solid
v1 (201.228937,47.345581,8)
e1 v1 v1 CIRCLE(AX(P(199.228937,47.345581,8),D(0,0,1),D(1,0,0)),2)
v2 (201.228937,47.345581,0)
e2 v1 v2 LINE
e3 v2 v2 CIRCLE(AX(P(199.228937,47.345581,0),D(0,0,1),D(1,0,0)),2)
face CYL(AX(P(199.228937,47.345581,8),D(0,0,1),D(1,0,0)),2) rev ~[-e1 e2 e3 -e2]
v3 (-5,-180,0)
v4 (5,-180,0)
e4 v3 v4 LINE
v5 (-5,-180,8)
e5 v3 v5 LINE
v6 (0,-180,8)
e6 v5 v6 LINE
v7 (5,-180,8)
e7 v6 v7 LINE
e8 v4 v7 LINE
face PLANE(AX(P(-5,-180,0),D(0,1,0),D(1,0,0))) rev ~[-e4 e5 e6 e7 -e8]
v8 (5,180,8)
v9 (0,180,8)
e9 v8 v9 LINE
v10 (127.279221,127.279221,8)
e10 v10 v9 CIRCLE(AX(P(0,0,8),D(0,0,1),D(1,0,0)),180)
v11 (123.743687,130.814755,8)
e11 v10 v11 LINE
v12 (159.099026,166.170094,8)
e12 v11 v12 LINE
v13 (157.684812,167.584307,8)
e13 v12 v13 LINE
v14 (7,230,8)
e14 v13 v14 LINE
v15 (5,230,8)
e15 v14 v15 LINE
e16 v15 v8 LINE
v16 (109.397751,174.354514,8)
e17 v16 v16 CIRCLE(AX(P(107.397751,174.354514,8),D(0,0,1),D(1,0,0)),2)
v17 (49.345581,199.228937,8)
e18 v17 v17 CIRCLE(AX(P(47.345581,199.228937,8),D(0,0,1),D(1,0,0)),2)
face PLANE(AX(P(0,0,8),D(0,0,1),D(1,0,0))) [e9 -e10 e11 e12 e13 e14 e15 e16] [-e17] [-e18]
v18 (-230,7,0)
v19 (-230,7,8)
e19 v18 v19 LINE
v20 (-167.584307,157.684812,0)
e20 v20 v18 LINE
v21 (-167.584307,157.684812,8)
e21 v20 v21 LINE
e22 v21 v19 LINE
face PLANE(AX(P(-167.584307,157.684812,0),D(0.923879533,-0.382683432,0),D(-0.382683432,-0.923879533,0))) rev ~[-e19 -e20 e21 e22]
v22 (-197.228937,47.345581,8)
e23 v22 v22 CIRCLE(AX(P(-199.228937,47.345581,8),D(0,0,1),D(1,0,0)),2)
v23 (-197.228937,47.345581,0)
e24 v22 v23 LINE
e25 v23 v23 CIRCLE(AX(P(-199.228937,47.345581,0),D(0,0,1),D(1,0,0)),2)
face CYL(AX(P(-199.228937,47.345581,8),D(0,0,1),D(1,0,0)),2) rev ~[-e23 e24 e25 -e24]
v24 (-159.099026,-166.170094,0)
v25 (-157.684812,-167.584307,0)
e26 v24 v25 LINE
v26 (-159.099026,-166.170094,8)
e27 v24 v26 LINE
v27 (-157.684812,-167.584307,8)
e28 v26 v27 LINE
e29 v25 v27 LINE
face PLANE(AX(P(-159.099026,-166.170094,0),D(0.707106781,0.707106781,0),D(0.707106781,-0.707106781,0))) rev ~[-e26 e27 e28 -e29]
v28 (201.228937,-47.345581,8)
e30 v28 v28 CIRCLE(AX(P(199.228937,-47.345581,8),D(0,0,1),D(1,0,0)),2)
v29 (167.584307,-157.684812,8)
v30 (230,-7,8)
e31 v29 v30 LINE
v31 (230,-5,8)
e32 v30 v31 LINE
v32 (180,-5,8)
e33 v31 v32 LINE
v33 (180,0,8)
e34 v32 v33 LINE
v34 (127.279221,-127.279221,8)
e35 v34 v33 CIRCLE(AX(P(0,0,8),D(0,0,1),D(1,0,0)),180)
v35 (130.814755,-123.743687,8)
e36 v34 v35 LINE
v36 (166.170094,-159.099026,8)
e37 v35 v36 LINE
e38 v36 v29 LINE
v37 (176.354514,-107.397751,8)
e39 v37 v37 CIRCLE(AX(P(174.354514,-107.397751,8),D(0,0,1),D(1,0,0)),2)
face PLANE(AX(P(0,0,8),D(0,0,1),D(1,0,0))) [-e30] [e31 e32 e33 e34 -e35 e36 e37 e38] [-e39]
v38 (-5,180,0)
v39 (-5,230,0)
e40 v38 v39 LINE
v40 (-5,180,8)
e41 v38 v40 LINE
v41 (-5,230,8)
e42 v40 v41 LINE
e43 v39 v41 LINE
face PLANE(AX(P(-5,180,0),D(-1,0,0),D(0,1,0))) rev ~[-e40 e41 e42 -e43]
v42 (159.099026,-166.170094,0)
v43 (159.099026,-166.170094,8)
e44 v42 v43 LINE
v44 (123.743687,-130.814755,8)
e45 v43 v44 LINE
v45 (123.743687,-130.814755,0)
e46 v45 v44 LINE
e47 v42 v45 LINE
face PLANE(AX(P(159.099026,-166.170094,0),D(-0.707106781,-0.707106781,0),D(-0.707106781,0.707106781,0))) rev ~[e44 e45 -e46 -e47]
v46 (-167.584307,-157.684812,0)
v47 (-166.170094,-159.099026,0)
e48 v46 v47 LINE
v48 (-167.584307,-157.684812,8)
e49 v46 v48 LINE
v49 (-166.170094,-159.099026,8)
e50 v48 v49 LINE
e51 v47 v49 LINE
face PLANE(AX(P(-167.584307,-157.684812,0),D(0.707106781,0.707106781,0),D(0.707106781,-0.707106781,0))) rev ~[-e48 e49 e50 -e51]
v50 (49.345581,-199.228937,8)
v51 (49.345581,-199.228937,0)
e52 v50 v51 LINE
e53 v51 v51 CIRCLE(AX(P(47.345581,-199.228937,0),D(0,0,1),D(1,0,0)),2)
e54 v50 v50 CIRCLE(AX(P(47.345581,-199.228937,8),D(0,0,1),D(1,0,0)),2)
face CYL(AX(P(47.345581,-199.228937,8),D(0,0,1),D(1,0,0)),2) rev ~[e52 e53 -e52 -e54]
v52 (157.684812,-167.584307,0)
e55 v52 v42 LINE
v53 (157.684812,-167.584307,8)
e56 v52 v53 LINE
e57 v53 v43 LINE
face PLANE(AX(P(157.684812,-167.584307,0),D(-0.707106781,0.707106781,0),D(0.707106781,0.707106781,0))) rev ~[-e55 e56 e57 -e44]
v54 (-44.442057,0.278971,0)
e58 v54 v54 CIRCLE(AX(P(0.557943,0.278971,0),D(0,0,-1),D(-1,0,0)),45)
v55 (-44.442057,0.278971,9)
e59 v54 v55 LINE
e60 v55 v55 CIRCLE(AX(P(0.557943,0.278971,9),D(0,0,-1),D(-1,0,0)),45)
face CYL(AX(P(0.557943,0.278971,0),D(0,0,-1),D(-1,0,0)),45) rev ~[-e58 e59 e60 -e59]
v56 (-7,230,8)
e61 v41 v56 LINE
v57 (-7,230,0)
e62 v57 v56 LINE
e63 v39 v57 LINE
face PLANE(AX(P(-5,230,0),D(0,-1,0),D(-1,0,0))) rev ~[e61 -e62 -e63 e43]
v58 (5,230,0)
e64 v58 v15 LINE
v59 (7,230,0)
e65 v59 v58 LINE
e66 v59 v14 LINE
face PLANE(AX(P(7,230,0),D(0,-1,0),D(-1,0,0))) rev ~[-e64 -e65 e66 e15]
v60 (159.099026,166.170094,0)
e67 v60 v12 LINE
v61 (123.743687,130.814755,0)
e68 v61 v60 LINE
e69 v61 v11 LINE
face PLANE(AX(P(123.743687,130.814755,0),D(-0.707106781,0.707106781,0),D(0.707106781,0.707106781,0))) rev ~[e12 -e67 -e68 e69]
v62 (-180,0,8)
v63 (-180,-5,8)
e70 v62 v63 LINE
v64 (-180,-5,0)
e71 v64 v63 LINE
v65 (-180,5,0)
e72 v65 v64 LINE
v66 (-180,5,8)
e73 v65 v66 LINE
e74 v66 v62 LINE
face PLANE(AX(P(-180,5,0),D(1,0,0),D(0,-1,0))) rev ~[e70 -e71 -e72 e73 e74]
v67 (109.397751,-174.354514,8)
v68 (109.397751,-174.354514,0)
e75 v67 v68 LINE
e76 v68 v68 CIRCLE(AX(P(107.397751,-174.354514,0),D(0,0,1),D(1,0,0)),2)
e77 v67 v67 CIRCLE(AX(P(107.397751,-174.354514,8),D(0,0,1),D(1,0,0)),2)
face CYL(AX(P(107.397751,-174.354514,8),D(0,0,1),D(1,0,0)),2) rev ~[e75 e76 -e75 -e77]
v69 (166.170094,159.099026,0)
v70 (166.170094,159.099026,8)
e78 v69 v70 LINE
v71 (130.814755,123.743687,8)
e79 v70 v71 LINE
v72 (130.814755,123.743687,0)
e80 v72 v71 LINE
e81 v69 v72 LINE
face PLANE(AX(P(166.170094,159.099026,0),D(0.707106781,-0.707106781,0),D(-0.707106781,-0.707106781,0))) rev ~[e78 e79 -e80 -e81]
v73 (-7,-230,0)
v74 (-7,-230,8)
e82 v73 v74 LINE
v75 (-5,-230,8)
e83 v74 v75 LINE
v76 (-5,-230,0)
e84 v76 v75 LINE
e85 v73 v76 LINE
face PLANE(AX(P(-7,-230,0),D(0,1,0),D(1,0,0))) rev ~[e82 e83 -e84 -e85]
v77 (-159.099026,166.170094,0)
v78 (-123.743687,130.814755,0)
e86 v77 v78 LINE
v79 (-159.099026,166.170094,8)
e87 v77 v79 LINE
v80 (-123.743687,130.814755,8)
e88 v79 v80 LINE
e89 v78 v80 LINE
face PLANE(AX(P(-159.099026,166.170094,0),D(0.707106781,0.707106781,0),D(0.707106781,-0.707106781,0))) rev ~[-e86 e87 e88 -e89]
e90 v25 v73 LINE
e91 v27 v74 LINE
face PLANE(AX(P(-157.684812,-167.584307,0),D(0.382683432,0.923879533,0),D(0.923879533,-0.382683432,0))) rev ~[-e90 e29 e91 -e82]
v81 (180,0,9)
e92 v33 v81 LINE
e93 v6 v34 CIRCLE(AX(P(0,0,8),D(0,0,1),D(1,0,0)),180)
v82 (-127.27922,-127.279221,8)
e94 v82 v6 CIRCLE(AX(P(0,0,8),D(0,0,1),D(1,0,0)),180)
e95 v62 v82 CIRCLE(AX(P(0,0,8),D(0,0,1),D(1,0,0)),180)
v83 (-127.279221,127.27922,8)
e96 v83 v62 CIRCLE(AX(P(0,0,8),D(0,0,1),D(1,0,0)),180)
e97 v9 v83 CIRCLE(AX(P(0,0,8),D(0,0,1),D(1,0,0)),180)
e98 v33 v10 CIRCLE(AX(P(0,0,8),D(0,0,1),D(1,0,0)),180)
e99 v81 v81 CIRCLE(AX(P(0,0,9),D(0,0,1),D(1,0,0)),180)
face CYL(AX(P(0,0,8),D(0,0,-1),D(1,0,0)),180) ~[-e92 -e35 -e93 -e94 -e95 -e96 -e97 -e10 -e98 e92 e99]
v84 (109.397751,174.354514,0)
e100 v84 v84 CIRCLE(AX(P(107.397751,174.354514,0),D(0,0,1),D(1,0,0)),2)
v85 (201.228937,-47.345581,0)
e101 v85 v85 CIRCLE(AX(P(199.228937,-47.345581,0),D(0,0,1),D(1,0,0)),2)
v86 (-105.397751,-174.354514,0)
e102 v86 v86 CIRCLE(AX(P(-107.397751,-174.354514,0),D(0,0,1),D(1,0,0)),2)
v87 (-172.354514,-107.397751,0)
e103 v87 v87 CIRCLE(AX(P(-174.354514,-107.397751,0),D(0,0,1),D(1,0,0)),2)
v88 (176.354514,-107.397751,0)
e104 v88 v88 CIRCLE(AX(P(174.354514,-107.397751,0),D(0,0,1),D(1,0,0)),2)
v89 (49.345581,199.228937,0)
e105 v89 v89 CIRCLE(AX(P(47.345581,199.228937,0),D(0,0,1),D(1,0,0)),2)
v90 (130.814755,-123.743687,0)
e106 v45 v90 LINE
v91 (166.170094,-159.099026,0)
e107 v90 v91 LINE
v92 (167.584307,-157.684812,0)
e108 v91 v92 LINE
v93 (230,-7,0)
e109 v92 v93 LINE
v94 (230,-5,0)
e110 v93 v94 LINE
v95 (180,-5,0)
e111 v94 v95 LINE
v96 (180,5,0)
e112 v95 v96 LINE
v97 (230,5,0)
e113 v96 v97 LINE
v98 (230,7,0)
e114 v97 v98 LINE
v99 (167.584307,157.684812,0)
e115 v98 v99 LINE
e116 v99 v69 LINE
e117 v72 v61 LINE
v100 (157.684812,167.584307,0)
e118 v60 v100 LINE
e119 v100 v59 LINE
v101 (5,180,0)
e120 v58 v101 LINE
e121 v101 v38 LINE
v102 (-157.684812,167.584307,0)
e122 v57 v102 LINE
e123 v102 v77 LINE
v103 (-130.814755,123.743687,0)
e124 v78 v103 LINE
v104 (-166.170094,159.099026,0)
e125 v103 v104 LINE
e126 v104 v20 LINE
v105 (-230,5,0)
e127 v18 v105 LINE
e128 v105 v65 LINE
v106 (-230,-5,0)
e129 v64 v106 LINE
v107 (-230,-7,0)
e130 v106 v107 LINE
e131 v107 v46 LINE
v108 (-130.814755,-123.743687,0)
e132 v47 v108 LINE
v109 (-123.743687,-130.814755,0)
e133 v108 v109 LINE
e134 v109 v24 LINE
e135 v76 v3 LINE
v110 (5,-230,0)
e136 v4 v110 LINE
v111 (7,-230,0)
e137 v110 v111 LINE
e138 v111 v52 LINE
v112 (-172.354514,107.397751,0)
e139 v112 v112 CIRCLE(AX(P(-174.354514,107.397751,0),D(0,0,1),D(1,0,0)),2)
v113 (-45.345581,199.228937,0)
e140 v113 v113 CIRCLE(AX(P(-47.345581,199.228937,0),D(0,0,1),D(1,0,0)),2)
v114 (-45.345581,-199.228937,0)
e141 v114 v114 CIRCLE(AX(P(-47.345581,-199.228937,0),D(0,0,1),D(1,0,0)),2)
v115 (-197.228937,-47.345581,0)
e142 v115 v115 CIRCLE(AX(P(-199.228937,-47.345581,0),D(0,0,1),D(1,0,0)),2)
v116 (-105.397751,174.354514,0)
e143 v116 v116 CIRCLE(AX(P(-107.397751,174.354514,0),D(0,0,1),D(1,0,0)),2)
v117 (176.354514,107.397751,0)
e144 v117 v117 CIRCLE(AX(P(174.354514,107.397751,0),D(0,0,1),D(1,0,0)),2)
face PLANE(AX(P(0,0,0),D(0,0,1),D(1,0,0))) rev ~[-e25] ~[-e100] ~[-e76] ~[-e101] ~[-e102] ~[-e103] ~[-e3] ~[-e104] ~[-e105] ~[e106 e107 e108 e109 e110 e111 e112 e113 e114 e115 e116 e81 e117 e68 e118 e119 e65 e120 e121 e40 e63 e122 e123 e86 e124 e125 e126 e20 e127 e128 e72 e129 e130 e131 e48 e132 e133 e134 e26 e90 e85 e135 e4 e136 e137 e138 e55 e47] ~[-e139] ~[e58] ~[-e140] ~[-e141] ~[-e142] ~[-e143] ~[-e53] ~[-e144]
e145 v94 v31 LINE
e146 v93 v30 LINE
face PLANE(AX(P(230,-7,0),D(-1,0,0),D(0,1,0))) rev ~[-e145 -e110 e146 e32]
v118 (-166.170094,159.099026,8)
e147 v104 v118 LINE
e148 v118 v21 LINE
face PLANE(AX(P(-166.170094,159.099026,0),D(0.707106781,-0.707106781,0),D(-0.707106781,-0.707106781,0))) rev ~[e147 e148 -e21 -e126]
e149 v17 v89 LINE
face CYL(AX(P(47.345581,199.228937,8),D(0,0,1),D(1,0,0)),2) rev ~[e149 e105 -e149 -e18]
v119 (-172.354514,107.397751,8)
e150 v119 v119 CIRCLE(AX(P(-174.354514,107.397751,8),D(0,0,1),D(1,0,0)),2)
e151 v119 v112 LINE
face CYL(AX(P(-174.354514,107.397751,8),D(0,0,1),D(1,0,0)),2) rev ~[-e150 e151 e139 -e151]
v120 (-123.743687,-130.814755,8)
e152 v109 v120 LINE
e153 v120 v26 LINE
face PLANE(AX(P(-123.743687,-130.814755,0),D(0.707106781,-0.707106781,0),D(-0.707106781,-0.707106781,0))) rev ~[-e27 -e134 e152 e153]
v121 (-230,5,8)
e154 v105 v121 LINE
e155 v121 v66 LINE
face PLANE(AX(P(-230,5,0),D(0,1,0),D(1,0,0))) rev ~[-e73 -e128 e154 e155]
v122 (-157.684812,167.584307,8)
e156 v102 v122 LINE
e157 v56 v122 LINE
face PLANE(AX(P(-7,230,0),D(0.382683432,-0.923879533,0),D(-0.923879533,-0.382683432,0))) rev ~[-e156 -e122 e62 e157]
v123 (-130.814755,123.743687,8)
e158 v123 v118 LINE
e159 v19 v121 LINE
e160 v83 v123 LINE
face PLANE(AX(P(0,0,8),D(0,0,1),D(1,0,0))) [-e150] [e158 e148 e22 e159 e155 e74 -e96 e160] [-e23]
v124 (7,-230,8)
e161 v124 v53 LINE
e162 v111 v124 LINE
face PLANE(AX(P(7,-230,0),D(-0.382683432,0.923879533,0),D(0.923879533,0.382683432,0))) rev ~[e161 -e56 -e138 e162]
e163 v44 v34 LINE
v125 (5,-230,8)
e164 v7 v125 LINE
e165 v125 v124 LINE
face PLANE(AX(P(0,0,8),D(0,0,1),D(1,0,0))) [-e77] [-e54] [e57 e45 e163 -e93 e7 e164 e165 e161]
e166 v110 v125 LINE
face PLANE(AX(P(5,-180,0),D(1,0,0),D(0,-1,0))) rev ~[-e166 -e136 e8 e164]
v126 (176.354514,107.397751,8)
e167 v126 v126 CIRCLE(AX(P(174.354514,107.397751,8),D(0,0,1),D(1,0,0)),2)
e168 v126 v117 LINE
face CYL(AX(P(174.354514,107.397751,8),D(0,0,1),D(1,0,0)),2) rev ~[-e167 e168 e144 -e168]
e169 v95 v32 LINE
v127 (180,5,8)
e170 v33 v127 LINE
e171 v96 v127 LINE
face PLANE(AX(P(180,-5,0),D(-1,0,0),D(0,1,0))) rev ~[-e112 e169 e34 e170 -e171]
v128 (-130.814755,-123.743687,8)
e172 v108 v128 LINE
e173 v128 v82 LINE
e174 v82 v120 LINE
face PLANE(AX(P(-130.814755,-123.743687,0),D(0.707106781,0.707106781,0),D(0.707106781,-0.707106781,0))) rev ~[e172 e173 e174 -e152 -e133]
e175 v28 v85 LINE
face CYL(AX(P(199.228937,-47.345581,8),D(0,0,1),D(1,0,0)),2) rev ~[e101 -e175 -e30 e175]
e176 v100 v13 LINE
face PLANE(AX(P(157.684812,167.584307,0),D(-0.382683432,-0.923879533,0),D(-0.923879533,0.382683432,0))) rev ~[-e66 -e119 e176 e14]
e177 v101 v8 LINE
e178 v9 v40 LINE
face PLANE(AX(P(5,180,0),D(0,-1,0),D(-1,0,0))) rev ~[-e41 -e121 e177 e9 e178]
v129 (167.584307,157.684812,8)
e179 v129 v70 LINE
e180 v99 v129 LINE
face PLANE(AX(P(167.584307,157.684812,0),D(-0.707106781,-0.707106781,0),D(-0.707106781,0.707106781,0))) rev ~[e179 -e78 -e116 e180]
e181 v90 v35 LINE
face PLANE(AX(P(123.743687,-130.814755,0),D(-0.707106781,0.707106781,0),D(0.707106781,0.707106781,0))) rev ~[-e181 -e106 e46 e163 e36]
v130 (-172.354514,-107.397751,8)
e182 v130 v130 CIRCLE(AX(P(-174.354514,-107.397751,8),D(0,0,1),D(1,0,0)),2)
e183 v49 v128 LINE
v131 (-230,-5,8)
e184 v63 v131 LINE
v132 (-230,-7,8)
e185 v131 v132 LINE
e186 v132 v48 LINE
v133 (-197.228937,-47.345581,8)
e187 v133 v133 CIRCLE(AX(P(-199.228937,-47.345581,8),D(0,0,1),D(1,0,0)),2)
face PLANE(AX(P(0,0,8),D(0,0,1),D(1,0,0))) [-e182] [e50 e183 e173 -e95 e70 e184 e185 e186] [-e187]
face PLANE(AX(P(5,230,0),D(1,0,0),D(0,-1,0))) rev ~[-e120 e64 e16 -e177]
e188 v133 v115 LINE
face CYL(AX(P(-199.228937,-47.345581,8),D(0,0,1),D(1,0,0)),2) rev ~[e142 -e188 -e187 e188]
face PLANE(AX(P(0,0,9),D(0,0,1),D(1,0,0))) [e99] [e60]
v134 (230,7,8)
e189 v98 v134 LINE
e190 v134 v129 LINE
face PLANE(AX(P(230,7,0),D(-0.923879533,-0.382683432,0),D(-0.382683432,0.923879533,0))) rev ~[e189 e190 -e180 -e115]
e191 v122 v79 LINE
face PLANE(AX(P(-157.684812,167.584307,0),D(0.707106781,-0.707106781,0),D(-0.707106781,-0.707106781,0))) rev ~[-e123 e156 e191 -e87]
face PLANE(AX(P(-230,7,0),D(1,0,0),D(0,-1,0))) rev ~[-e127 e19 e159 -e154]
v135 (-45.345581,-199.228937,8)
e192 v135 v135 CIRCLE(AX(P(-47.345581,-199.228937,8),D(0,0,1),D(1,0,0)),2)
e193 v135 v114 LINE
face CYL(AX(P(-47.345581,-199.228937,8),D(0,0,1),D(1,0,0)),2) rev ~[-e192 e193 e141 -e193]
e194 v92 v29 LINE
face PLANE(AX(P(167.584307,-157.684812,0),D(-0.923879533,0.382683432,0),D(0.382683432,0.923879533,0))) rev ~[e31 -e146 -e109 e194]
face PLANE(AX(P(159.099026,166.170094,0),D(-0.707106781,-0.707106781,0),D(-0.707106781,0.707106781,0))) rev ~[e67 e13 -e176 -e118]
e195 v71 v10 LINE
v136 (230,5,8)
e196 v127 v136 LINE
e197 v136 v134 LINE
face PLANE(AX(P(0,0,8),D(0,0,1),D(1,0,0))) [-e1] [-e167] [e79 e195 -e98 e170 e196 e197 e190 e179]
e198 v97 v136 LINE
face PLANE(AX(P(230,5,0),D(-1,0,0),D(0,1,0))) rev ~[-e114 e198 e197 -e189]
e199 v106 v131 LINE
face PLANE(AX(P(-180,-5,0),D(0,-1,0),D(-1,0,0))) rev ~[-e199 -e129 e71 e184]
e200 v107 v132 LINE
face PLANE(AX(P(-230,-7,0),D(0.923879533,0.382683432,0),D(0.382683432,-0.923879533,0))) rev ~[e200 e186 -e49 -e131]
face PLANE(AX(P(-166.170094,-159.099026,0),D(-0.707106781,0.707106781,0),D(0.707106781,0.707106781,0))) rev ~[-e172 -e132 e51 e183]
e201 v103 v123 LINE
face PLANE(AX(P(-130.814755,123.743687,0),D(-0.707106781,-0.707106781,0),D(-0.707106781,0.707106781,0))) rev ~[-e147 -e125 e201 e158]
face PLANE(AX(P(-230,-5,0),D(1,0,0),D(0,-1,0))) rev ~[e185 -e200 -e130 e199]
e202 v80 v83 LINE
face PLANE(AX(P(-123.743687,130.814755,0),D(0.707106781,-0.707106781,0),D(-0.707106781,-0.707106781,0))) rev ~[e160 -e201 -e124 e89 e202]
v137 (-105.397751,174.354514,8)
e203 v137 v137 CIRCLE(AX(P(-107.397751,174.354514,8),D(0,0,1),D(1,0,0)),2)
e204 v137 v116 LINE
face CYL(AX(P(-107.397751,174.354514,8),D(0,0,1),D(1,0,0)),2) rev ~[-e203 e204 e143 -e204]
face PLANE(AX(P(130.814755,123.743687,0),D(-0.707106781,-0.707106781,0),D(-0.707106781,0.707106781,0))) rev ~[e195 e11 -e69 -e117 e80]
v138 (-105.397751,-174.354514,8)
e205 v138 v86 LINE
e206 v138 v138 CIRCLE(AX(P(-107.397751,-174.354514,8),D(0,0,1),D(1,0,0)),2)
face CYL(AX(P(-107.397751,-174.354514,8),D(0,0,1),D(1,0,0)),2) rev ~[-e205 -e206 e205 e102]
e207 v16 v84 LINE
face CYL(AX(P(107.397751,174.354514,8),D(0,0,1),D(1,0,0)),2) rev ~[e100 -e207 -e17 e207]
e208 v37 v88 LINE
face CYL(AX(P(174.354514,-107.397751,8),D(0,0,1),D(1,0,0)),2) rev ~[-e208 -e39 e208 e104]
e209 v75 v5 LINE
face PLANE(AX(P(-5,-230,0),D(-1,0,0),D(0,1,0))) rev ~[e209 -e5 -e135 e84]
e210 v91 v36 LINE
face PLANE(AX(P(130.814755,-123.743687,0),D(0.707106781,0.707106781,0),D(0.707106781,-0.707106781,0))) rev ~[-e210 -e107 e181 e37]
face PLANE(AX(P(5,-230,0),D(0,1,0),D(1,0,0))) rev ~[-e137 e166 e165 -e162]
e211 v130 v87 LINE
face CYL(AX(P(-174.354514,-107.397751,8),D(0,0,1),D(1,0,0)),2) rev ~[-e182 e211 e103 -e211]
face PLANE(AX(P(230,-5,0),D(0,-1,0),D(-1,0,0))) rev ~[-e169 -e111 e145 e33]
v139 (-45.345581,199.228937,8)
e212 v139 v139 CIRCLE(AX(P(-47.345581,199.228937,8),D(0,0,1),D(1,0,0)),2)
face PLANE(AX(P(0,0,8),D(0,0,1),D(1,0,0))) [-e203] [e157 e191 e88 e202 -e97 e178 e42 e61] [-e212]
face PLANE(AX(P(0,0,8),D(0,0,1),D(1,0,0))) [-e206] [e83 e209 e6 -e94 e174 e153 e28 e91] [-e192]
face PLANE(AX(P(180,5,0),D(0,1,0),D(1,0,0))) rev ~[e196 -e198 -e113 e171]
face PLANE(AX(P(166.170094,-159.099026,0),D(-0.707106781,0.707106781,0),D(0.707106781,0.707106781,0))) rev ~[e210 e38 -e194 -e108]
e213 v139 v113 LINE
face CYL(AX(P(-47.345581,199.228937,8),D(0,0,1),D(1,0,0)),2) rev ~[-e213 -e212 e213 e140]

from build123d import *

# Parameters (mm, degrees)
BOSS_EXTRUDE1_DEPTH = 8
SKETCH2_R           = 180
BOSS_EXTRUDE2_DEPTH = 1
CUT_EXTRUDE1_REACH  = 10
SKETCH3_R           = 2
CUT_EXTRUDE2_REACH  = 11
SKETCH4_R           = 45


with BuildPart() as part:
    # Sketch1 → Boss-Extrude1 (new body)
    with BuildSketch(Plane.XY):
        Polygon((5, 230), (5, 180), (-5, 180), (-5, 230), (-7, 230), (-157.684812205, 167.584307141), (-159.099025767, 166.170093579), (-123.743686708, 130.814754519), (-130.81475452, 123.743686708), (-166.170093579, 159.099025767), (-167.584307141, 157.684812205), (-230, 7), (-230, 5), (-180, 5), (-180, -5), (-230, -5), (-230, -7), (-167.584307141, -157.684812205), (-166.170093579, -159.099025767), (-130.81475452, -123.743686708), (-123.743686708, -130.81475452), (-159.099025767, -166.170093579), (-157.684812205, -167.584307141), (-7, -230), (-5, -230), (-5, -180), (5, -180), (5, -230), (7, -230), (157.684812205, -167.584307141), (159.099025767, -166.170093579), (123.743686708, -130.814754519), (130.81475452, -123.743686708), (166.170093579, -159.099025767), (167.584307141, -157.684812205), (230, -7), (230, -5), (180, -5), (180, 5), (230, 5), (230, 7), (167.584307141, 157.684812205), (166.170093579, 159.099025767), (130.81475452, 123.743686708), (123.743686708, 130.81475452), (159.099025767, 166.170093579), (157.684812205, 167.584307141), (7, 230), align=None)
    extrude(amount=BOSS_EXTRUDE1_DEPTH)

    # Sketch2 → Boss-Extrude2 (add)
    with BuildSketch(Plane.XY.offset(8)):
        Circle(SKETCH2_R)
    extrude(amount=BOSS_EXTRUDE2_DEPTH)

    # Sketch3 → Cut-Extrude1 (cut, up to next)
    with BuildSketch(Plane.XY.offset(8), mode=Mode.PRIVATE) as cut_extrude1_sk1:
        with Locations((107.397750993, 174.354514299)):
            Circle(SKETCH3_R)
    cut_extrude1_tool1 = extrude(cut_extrude1_sk1.sketch, amount=-CUT_EXTRUDE1_REACH, mode=Mode.PRIVATE) & part.part
    add(cut_extrude1_tool1.solids().sort_by_distance((107.397751, 174.354514, 8))[0], mode=Mode.SUBTRACT)
    # Sketch3 → Cut-Extrude1 (cut, up to next)
    with BuildSketch(Plane.XY.offset(8), mode=Mode.PRIVATE) as cut_extrude1_sk2:
        with Locations((47.34558138, 199.228937402)):
            Circle(SKETCH3_R)
    cut_extrude1_tool2 = extrude(cut_extrude1_sk2.sketch, amount=-CUT_EXTRUDE1_REACH, mode=Mode.PRIVATE) & part.part
    add(cut_extrude1_tool2.solids().sort_by_distance((47.345581, 199.228937, 8))[0], mode=Mode.SUBTRACT)
    # Sketch3 → Cut-Extrude1 (cut, up to next)
    with BuildSketch(Plane.XY.offset(8), mode=Mode.PRIVATE) as cut_extrude1_sk3:
        with Locations((199.228937402, 47.34558138)):
            Circle(SKETCH3_R)
    cut_extrude1_tool3 = extrude(cut_extrude1_sk3.sketch, amount=-CUT_EXTRUDE1_REACH, mode=Mode.PRIVATE) & part.part
    add(cut_extrude1_tool3.solids().sort_by_distance((199.228937, 47.345581, 8))[0], mode=Mode.SUBTRACT)
    # Sketch3 → Cut-Extrude1 (cut, up to next)
    with BuildSketch(Plane.XY.offset(8), mode=Mode.PRIVATE) as cut_extrude1_sk4:
        with Locations((174.354514299, 107.397750993)):
            Circle(SKETCH3_R)
    cut_extrude1_tool4 = extrude(cut_extrude1_sk4.sketch, amount=-CUT_EXTRUDE1_REACH, mode=Mode.PRIVATE) & part.part
    add(cut_extrude1_tool4.solids().sort_by_distance((174.354514, 107.397751, 8))[0], mode=Mode.SUBTRACT)
    # Sketch3 → Cut-Extrude1 (cut, up to next)
    with BuildSketch(Plane.XY.offset(8), mode=Mode.PRIVATE) as cut_extrude1_sk5:
        with Locations((174.354514299, -107.397750993)):
            Circle(SKETCH3_R)
    cut_extrude1_tool5 = extrude(cut_extrude1_sk5.sketch, amount=-CUT_EXTRUDE1_REACH, mode=Mode.PRIVATE) & part.part
    add(cut_extrude1_tool5.solids().sort_by_distance((174.354514, -107.397751, 8))[0], mode=Mode.SUBTRACT)
    # Sketch3 → Cut-Extrude1 (cut, up to next)
    with BuildSketch(Plane.XY.offset(8), mode=Mode.PRIVATE) as cut_extrude1_sk6:
        with Locations((199.228937402, -47.34558138)):
            Circle(SKETCH3_R)
    cut_extrude1_tool6 = extrude(cut_extrude1_sk6.sketch, amount=-CUT_EXTRUDE1_REACH, mode=Mode.PRIVATE) & part.part
    add(cut_extrude1_tool6.solids().sort_by_distance((199.228937, -47.345581, 8))[0], mode=Mode.SUBTRACT)
    # Sketch3 → Cut-Extrude1 (cut, up to next)
    with BuildSketch(Plane.XY.offset(8), mode=Mode.PRIVATE) as cut_extrude1_sk7:
        with Locations((47.34558138, -199.228937402)):
            Circle(SKETCH3_R)
    cut_extrude1_tool7 = extrude(cut_extrude1_sk7.sketch, amount=-CUT_EXTRUDE1_REACH, mode=Mode.PRIVATE) & part.part
    add(cut_extrude1_tool7.solids().sort_by_distance((47.345581, -199.228937, 8))[0], mode=Mode.SUBTRACT)
    # Sketch3 → Cut-Extrude1 (cut, up to next)
    with BuildSketch(Plane.XY.offset(8), mode=Mode.PRIVATE) as cut_extrude1_sk8:
        with Locations((107.397750993, -174.354514299)):
            Circle(SKETCH3_R)
    cut_extrude1_tool8 = extrude(cut_extrude1_sk8.sketch, amount=-CUT_EXTRUDE1_REACH, mode=Mode.PRIVATE) & part.part
    add(cut_extrude1_tool8.solids().sort_by_distance((107.397751, -174.354514, 8))[0], mode=Mode.SUBTRACT)
    # Sketch3 → Cut-Extrude1 (cut, up to next)
    with BuildSketch(Plane.XY.offset(8), mode=Mode.PRIVATE) as cut_extrude1_sk9:
        with Locations((-107.397750993, -174.354514299)):
            Circle(SKETCH3_R)
    cut_extrude1_tool9 = extrude(cut_extrude1_sk9.sketch, amount=-CUT_EXTRUDE1_REACH, mode=Mode.PRIVATE) & part.part
    add(cut_extrude1_tool9.solids().sort_by_distance((-107.397751, -174.354514, 8))[0], mode=Mode.SUBTRACT)
    # Sketch3 → Cut-Extrude1 (cut, up to next)
    with BuildSketch(Plane.XY.offset(8), mode=Mode.PRIVATE) as cut_extrude1_sk10:
        with Locations((-47.34558138, -199.228937402)):
            Circle(SKETCH3_R)
    cut_extrude1_tool10 = extrude(cut_extrude1_sk10.sketch, amount=-CUT_EXTRUDE1_REACH, mode=Mode.PRIVATE) & part.part
    add(cut_extrude1_tool10.solids().sort_by_distance((-47.345581, -199.228937, 8))[0], mode=Mode.SUBTRACT)
    # Sketch3 → Cut-Extrude1 (cut, up to next)
    with BuildSketch(Plane.XY.offset(8), mode=Mode.PRIVATE) as cut_extrude1_sk11:
        with Locations((-199.228937402, -47.34558138)):
            Circle(SKETCH3_R)
    cut_extrude1_tool11 = extrude(cut_extrude1_sk11.sketch, amount=-CUT_EXTRUDE1_REACH, mode=Mode.PRIVATE) & part.part
    add(cut_extrude1_tool11.solids().sort_by_distance((-199.228937, -47.345581, 8))[0], mode=Mode.SUBTRACT)
    # Sketch3 → Cut-Extrude1 (cut, up to next)
    with BuildSketch(Plane.XY.offset(8), mode=Mode.PRIVATE) as cut_extrude1_sk12:
        with Locations((-174.354514299, -107.397750993)):
            Circle(SKETCH3_R)
    cut_extrude1_tool12 = extrude(cut_extrude1_sk12.sketch, amount=-CUT_EXTRUDE1_REACH, mode=Mode.PRIVATE) & part.part
    add(cut_extrude1_tool12.solids().sort_by_distance((-174.354514, -107.397751, 8))[0], mode=Mode.SUBTRACT)
    # Sketch3 → Cut-Extrude1 (cut, up to next)
    with BuildSketch(Plane.XY.offset(8), mode=Mode.PRIVATE) as cut_extrude1_sk13:
        with Locations((-174.354514299, 107.397750993)):
            Circle(SKETCH3_R)
    cut_extrude1_tool13 = extrude(cut_extrude1_sk13.sketch, amount=-CUT_EXTRUDE1_REACH, mode=Mode.PRIVATE) & part.part
    add(cut_extrude1_tool13.solids().sort_by_distance((-174.354514, 107.397751, 8))[0], mode=Mode.SUBTRACT)
    # Sketch3 → Cut-Extrude1 (cut, up to next)
    with BuildSketch(Plane.XY.offset(8), mode=Mode.PRIVATE) as cut_extrude1_sk14:
        with Locations((-199.228937402, 47.34558138)):
            Circle(SKETCH3_R)
    cut_extrude1_tool14 = extrude(cut_extrude1_sk14.sketch, amount=-CUT_EXTRUDE1_REACH, mode=Mode.PRIVATE) & part.part
    add(cut_extrude1_tool14.solids().sort_by_distance((-199.228937, 47.345581, 8))[0], mode=Mode.SUBTRACT)
    # Sketch3 → Cut-Extrude1 (cut, up to next)
    with BuildSketch(Plane.XY.offset(8), mode=Mode.PRIVATE) as cut_extrude1_sk15:
        with Locations((-47.34558138, 199.228937402)):
            Circle(SKETCH3_R)
    cut_extrude1_tool15 = extrude(cut_extrude1_sk15.sketch, amount=-CUT_EXTRUDE1_REACH, mode=Mode.PRIVATE) & part.part
    add(cut_extrude1_tool15.solids().sort_by_distance((-47.345581, 199.228937, 8))[0], mode=Mode.SUBTRACT)
    # Sketch3 → Cut-Extrude1 (cut, up to next)
    with BuildSketch(Plane.XY.offset(8), mode=Mode.PRIVATE) as cut_extrude1_sk16:
        with Locations((-107.397750993, 174.354514299)):
            Circle(SKETCH3_R)
    cut_extrude1_tool16 = extrude(cut_extrude1_sk16.sketch, amount=-CUT_EXTRUDE1_REACH, mode=Mode.PRIVATE) & part.part
    add(cut_extrude1_tool16.solids().sort_by_distance((-107.397751, 174.354514, 8))[0], mode=Mode.SUBTRACT)

    # Sketch4 → Cut-Extrude2 (cut, up to next)
    with BuildSketch(Plane(origin=(0, 0, 0), x_dir=(-1, 0, 0), z_dir=(0, 0, -1)), mode=Mode.PRIVATE) as cut_extrude2_sk1:
        with Locations((-0.557942617, 0.278971308)):
            Circle(SKETCH4_R)
    cut_extrude2_tool1 = extrude(cut_extrude2_sk1.sketch, amount=-CUT_EXTRUDE2_REACH, mode=Mode.PRIVATE) & part.part
    add(cut_extrude2_tool1.solids().sort_by_distance((0.557943, 0.278971, 0))[0], mode=Mode.SUBTRACT)


solid = part.part
